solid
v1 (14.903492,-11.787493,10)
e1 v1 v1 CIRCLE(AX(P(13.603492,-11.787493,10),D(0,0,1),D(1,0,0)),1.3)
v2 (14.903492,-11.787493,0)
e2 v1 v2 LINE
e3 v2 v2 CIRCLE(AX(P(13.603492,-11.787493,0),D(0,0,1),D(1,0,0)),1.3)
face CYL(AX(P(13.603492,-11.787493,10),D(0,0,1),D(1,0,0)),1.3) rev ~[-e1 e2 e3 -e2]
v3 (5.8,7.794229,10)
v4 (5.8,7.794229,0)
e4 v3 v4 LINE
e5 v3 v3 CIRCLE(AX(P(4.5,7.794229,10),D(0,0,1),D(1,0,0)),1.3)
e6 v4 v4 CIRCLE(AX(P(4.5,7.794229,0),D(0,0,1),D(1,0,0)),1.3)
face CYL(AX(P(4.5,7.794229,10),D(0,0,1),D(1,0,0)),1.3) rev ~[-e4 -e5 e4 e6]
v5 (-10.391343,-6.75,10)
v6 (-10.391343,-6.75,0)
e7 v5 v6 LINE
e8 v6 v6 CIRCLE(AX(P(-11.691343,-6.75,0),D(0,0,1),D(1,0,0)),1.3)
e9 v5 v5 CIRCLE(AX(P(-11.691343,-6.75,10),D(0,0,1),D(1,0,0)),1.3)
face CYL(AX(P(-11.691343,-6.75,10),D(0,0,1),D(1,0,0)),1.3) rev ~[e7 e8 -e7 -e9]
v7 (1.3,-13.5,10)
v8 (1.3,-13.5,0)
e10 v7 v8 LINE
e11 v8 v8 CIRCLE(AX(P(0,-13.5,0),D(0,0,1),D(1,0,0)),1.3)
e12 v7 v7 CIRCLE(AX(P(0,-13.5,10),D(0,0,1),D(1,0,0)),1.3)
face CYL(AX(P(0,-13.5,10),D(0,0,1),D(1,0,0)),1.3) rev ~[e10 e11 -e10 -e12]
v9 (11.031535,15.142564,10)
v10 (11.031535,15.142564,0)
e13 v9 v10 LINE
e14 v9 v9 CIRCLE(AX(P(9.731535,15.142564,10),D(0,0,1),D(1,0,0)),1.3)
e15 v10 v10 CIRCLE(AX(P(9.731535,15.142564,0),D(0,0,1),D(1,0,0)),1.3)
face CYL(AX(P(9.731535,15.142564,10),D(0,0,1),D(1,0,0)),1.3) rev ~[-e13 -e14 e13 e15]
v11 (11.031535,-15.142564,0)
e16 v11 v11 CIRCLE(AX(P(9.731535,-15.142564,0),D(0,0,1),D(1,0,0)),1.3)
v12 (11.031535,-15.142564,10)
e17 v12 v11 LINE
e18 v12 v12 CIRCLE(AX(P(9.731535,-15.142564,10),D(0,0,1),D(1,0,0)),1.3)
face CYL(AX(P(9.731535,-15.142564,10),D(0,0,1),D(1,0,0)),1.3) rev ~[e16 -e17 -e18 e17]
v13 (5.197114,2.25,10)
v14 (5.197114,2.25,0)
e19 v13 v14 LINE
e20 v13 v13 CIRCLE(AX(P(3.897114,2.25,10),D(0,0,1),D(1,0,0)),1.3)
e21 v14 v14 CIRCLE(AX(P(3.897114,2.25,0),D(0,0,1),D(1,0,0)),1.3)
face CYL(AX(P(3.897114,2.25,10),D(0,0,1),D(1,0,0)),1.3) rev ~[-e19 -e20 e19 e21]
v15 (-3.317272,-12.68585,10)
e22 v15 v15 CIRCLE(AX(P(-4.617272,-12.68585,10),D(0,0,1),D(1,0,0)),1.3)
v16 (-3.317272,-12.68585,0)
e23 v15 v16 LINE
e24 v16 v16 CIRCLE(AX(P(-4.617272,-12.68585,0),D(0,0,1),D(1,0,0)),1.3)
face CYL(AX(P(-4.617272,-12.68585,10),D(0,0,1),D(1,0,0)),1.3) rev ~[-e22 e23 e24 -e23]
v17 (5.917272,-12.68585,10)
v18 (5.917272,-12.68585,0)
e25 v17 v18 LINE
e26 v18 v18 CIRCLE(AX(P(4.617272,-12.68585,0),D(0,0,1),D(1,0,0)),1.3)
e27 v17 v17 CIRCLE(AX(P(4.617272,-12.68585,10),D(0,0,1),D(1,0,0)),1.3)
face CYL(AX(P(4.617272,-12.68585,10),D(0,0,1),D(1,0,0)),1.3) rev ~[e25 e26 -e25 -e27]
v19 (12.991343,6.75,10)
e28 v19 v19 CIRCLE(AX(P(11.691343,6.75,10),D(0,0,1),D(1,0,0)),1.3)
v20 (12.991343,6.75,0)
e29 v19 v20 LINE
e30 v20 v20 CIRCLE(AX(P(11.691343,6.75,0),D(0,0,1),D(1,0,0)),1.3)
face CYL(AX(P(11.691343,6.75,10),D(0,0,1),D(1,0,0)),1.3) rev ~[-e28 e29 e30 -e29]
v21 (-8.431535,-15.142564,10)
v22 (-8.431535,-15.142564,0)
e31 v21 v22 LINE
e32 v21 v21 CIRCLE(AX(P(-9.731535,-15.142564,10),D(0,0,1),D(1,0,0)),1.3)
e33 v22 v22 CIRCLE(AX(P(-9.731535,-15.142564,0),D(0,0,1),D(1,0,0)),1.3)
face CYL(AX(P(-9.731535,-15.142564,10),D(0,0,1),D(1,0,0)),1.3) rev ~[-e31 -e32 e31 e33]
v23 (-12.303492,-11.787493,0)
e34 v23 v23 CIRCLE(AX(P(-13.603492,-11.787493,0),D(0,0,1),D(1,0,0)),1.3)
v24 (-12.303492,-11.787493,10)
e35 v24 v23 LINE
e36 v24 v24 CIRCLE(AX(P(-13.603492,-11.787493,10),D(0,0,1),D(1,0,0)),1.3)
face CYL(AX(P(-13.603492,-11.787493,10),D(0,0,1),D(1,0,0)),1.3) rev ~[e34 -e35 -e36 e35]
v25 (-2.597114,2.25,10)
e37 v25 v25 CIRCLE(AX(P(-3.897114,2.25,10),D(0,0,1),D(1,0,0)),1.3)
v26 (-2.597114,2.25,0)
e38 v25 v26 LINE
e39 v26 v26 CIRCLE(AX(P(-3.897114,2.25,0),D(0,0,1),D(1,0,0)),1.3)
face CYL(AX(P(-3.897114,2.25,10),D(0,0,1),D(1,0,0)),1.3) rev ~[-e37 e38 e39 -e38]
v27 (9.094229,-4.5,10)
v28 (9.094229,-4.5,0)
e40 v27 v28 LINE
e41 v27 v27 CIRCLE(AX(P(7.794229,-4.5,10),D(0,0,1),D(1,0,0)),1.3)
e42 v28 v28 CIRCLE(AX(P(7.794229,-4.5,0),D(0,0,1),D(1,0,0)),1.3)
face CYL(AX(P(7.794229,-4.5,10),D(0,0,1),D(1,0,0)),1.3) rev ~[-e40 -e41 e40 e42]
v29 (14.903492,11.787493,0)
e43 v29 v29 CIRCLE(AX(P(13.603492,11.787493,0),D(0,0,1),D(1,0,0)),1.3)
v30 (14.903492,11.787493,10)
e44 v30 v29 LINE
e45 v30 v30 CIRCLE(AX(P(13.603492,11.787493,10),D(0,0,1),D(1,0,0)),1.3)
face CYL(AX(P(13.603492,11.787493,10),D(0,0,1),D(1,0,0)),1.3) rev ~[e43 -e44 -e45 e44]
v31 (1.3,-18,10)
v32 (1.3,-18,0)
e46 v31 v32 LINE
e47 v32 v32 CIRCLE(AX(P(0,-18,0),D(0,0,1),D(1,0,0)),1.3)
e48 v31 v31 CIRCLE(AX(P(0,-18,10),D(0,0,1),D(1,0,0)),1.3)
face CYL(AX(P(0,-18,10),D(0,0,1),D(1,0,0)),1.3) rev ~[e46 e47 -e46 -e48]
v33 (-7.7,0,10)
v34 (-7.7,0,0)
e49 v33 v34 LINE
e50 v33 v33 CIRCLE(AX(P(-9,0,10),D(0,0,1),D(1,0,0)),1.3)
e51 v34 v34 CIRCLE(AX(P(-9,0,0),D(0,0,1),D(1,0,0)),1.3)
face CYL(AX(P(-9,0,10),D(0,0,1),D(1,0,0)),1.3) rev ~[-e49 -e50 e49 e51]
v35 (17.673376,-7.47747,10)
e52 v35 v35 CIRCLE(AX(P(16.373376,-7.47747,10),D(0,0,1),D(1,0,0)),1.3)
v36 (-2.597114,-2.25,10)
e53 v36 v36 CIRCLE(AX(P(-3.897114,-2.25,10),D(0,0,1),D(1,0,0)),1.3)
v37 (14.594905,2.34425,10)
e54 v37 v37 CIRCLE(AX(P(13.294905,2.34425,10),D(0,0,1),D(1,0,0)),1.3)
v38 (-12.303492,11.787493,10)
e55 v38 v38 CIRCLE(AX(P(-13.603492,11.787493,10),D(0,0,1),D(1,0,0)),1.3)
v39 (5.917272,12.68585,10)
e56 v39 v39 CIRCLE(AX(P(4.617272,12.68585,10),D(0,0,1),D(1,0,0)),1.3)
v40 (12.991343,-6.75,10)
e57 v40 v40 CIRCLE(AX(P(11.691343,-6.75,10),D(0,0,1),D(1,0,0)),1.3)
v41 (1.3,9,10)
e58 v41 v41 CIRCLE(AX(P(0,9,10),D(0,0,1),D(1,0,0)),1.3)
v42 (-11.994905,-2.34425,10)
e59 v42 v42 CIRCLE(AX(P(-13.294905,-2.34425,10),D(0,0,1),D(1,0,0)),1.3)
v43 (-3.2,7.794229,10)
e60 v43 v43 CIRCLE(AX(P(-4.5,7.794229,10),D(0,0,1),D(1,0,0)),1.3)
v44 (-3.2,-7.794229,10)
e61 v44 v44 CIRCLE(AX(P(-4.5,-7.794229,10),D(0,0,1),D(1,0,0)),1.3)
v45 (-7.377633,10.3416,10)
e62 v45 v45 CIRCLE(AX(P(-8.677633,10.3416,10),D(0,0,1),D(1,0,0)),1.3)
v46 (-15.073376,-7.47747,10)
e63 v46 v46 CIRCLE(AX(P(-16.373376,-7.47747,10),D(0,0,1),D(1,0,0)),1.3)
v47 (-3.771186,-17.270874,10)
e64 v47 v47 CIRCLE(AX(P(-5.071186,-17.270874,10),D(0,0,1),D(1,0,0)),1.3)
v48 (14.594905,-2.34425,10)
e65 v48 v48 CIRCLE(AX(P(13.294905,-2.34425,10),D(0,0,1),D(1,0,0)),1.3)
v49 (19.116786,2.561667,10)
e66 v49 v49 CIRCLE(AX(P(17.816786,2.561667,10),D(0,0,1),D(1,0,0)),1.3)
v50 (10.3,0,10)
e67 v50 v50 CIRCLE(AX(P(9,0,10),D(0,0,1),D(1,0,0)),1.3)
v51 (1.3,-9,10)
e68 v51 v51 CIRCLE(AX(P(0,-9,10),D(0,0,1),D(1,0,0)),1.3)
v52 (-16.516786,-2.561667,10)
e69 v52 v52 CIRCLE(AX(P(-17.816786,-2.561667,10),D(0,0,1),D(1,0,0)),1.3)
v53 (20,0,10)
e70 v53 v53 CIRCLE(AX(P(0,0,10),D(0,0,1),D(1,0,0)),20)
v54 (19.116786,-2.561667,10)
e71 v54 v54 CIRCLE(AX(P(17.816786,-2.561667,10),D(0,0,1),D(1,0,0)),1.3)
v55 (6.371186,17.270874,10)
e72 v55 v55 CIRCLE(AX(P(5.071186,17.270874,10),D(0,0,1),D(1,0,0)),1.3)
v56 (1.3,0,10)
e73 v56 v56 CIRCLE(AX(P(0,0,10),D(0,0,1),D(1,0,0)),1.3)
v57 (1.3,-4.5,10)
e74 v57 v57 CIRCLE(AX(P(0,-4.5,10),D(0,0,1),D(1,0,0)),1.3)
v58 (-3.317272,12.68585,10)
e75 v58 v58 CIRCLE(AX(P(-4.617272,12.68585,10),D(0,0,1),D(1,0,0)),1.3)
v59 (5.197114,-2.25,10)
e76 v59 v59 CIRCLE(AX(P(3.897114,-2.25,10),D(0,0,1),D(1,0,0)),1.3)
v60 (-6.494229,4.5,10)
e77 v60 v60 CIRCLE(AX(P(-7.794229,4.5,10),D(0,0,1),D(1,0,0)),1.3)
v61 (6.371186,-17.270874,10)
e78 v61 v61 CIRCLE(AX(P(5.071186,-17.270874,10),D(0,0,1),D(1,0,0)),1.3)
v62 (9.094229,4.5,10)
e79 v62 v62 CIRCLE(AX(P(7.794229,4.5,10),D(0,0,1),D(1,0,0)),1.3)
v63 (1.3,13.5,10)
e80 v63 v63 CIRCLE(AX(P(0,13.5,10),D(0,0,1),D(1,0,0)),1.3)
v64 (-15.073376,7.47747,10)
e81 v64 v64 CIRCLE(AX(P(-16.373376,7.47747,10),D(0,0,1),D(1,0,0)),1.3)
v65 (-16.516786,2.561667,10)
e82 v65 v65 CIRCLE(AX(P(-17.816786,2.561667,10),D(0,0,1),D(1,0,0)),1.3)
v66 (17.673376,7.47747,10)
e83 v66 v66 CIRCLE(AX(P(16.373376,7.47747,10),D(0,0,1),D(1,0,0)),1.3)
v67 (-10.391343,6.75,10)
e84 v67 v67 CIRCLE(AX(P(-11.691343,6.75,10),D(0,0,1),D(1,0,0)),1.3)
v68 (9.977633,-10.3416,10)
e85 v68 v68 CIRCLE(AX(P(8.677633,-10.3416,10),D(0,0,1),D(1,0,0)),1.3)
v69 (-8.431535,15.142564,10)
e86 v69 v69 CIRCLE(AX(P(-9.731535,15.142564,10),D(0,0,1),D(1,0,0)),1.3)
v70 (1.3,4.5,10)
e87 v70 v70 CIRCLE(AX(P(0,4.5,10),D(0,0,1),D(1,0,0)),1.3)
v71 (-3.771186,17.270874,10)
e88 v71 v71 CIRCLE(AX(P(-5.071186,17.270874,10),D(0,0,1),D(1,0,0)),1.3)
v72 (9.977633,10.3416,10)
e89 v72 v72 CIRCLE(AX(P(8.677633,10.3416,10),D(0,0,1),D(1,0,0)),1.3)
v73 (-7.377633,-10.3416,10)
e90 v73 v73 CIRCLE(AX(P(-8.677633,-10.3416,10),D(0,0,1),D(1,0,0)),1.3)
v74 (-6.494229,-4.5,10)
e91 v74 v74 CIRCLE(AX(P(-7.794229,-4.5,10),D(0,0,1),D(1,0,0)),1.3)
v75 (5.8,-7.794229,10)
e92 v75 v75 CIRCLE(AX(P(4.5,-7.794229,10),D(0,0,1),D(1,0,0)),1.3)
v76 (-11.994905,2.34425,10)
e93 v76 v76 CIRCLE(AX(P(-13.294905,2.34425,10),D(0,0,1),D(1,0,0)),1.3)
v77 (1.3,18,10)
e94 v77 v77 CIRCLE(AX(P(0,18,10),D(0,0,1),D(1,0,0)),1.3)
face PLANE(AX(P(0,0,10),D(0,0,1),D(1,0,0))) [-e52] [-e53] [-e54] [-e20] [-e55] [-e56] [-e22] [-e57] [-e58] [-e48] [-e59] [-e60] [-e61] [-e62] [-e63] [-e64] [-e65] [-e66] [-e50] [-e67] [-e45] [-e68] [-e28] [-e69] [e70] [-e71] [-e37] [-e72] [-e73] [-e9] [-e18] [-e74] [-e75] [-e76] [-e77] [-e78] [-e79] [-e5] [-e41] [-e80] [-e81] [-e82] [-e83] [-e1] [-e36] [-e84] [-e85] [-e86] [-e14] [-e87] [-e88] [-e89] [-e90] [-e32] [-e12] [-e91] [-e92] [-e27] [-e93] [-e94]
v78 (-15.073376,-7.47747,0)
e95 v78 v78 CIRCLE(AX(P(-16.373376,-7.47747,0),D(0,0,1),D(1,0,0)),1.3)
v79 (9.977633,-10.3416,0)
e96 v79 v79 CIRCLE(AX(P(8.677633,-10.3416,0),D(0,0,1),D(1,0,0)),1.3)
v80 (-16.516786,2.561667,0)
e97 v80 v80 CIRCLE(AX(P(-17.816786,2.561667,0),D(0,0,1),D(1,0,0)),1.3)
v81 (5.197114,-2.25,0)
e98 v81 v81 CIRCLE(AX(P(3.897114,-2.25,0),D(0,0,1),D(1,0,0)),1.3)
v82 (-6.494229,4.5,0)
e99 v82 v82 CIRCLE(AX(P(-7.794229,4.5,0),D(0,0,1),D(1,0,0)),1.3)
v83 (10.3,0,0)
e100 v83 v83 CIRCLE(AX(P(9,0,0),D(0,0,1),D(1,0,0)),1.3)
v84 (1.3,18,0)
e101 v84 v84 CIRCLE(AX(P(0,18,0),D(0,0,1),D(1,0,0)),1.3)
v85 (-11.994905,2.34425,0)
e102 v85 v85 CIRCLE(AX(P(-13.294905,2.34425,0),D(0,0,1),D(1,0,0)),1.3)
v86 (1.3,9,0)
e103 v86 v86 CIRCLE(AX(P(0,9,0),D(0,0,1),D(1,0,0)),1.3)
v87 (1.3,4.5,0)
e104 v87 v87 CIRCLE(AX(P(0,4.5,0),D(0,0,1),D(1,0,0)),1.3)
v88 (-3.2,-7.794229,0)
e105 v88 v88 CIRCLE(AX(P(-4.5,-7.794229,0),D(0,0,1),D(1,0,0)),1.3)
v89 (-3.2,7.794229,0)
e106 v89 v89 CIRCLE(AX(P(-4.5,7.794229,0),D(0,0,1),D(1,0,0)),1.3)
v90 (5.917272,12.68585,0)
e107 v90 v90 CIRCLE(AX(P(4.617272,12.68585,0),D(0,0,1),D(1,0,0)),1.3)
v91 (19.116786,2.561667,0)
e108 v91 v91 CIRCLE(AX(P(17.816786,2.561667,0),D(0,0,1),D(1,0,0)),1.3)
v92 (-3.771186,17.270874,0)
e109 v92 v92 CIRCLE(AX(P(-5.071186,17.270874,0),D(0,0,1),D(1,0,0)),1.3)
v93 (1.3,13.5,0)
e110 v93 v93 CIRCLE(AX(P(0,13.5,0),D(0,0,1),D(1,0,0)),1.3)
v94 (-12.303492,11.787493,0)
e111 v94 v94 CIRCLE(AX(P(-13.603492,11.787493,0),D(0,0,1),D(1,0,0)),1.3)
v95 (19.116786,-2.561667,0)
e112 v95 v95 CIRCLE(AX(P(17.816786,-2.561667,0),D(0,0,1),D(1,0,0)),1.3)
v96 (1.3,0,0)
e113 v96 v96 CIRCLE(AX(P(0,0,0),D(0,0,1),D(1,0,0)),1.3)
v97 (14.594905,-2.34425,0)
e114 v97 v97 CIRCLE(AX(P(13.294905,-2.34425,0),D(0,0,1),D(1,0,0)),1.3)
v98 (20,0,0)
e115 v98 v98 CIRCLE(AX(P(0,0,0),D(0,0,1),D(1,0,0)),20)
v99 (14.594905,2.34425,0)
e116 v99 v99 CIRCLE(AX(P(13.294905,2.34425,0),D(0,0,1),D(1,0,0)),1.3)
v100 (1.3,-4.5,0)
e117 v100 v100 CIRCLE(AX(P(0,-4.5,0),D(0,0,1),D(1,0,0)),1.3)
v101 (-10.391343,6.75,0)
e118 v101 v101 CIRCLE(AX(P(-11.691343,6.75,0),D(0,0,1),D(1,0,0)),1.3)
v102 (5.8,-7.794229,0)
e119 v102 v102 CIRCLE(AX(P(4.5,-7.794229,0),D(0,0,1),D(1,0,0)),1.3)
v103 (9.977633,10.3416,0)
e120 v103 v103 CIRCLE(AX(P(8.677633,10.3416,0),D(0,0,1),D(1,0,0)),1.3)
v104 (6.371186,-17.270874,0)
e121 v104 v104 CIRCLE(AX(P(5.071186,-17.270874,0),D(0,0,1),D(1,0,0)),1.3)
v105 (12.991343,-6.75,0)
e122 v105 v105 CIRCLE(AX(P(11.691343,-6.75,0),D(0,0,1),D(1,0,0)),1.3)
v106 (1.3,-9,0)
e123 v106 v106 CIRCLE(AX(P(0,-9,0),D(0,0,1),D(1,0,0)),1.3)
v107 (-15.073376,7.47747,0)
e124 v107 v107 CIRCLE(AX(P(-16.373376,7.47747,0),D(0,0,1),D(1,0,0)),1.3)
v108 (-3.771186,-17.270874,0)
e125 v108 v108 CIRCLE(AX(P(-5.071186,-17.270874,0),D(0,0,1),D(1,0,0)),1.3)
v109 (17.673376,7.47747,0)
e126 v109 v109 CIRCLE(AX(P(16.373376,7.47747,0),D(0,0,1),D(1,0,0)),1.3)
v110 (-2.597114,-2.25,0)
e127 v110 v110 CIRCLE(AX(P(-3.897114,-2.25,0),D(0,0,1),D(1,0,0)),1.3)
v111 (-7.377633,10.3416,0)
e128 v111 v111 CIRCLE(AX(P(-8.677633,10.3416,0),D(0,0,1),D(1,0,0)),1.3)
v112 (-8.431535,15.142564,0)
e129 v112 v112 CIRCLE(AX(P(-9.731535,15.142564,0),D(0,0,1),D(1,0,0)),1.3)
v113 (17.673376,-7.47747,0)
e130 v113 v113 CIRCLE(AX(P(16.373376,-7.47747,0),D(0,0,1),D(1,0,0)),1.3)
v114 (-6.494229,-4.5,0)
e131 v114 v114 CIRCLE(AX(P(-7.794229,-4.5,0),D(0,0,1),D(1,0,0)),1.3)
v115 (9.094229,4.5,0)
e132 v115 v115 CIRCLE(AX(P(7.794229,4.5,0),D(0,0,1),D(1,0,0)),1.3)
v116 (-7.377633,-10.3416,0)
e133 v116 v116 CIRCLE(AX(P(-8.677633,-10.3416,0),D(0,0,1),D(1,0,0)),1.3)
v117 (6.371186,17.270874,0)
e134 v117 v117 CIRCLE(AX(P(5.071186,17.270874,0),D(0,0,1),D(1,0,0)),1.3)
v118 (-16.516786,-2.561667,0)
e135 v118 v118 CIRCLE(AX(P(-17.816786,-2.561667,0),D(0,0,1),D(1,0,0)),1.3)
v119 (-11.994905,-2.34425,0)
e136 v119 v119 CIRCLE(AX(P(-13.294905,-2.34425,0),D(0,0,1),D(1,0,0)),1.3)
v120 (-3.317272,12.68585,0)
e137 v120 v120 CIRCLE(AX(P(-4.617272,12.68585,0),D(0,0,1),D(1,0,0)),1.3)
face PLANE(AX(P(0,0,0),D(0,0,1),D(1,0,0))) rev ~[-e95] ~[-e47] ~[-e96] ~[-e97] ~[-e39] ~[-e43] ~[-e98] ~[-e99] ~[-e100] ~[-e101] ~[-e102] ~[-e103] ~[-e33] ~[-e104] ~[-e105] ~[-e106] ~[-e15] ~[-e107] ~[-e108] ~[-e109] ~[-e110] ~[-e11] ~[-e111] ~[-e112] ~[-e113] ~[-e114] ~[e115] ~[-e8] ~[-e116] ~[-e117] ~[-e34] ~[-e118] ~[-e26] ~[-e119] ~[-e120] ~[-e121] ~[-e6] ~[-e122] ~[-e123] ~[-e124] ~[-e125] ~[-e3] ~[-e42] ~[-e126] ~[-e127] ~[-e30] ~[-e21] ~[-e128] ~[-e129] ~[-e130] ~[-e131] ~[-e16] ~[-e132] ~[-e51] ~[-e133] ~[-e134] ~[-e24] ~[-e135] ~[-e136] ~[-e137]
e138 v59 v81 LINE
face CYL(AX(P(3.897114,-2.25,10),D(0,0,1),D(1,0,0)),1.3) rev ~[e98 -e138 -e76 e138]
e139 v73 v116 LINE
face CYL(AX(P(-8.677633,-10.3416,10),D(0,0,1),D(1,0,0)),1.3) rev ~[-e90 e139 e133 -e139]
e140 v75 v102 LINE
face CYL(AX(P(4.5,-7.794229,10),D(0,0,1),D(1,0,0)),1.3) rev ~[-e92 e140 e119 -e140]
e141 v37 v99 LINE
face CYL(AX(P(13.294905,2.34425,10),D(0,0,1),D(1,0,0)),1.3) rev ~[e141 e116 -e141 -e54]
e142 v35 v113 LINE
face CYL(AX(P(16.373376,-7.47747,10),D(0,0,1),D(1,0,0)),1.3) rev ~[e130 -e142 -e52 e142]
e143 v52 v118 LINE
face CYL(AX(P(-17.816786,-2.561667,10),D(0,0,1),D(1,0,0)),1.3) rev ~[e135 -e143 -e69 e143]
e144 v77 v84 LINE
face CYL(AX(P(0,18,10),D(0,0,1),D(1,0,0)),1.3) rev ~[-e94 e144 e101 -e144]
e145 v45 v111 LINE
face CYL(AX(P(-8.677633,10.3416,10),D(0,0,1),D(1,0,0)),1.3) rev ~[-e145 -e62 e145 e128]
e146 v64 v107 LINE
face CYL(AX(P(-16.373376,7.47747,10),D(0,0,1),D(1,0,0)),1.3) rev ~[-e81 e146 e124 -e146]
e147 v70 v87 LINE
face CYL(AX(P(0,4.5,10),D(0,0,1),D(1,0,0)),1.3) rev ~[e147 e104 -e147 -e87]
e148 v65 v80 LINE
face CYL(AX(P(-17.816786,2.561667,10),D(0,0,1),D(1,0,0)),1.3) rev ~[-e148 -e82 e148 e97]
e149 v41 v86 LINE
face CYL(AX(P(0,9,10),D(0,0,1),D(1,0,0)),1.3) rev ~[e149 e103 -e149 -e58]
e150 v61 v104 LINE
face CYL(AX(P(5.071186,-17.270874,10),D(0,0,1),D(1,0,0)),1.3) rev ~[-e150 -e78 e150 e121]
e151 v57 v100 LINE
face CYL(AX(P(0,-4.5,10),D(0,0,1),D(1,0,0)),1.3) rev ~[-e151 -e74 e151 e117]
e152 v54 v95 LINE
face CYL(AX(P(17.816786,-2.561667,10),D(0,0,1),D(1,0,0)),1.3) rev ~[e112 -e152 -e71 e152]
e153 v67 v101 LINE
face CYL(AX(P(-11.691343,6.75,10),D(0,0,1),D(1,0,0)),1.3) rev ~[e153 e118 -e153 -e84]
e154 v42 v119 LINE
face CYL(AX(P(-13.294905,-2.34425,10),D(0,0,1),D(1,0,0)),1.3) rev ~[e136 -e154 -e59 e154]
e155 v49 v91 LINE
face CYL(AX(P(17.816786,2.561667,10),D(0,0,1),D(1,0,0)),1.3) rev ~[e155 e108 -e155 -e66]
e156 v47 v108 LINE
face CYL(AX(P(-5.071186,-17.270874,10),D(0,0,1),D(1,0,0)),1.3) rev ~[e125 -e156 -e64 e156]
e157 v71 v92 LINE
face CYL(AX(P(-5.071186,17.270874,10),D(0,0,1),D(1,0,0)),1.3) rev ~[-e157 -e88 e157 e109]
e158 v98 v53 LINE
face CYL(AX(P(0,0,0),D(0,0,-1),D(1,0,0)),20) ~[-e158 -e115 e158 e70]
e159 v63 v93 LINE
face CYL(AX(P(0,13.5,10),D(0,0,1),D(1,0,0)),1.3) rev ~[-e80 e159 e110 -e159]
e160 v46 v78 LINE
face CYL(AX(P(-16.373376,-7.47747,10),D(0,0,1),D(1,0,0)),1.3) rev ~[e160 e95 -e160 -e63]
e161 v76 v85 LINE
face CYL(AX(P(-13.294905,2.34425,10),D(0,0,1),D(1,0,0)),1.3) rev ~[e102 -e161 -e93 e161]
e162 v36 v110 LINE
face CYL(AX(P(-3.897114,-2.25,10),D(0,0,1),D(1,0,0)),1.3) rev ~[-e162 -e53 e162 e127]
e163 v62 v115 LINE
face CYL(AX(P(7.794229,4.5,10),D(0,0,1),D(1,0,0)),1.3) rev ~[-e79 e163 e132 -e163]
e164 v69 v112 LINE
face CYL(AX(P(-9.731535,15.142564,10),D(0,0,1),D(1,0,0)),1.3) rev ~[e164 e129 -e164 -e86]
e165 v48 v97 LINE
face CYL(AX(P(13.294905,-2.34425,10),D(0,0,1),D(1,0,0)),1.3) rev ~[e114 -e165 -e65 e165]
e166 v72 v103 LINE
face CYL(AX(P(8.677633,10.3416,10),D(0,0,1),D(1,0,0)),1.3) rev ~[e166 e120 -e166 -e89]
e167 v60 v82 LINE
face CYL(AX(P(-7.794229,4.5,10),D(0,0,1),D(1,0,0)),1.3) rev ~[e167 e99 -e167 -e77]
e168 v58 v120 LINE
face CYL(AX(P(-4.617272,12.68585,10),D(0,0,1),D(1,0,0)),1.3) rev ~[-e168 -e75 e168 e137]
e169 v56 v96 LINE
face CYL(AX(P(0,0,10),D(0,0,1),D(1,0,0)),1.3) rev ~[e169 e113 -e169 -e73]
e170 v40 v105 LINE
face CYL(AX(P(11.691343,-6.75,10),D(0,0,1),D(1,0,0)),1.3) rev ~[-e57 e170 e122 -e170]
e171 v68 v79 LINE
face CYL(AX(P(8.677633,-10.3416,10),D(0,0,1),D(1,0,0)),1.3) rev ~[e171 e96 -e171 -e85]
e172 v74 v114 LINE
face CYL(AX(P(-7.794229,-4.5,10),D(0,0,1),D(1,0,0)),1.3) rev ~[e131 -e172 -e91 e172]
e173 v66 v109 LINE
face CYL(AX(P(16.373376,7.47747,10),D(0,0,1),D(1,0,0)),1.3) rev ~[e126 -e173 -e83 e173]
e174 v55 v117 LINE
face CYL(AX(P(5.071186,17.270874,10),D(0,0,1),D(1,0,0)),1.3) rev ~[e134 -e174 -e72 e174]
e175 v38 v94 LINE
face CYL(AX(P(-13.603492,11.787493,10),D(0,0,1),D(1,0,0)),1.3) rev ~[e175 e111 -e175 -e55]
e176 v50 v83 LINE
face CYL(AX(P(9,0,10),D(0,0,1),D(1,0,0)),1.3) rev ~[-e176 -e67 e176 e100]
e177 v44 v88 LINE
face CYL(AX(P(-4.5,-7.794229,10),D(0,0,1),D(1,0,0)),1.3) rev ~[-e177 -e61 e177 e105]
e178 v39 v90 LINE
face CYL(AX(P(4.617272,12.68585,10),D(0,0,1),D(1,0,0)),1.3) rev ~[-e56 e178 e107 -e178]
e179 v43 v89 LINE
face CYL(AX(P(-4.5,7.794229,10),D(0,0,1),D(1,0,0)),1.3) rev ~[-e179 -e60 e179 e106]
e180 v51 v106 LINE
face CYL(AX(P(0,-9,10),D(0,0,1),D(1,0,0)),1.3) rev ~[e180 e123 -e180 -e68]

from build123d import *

# Parameters (mm, degrees)
ESQUISSE1_R             = 20
BOSS_EXTRU_1_DEPTH      = 10
ESQUISSE2_R             = 1.3
ENL_V_MAT_EXTRU_1_DEPTH = 10


with BuildPart() as part:
    # Esquisse1 → Boss.-Extru.1 (new body)
    with BuildSketch(Plane.XY):
        Circle(ESQUISSE1_R)
    extrude(amount=BOSS_EXTRU_1_DEPTH)

    # Esquisse2 → Enlèv. mat.-Extru.1 (cut)
    with BuildSketch(Plane.XY.offset(10)):
        with Locations((0, 4.5)):
            Circle(ESQUISSE2_R)
        with Locations((-3.897114317, 2.25)):
            Circle(ESQUISSE2_R)
        with Locations((-3.897114317, -2.25)):
            Circle(ESQUISSE2_R)
        with Locations((0, -4.5)):
            Circle(ESQUISSE2_R)
        with Locations((3.897114317, -2.25)):
            Circle(ESQUISSE2_R)
        with Locations((3.897114317, 2.25)):
            Circle(ESQUISSE2_R)
        Circle(ESQUISSE2_R)
        with Locations((0, 9)):
            Circle(ESQUISSE2_R)
        with Locations((4.5, 7.794228634)):
            Circle(ESQUISSE2_R)
        with Locations((7.794228634, 4.5)):
            Circle(ESQUISSE2_R)
        with Locations((9, 0)):
            Circle(ESQUISSE2_R)
        with Locations((7.794228634, -4.5)):
            Circle(ESQUISSE2_R)
        with Locations((4.5, -7.794228634)):
            Circle(ESQUISSE2_R)
        with Locations((0, -9)):
            Circle(ESQUISSE2_R)
        with Locations((-4.5, -7.794228634)):
            Circle(ESQUISSE2_R)
        with Locations((-7.794228634, -4.5)):
            Circle(ESQUISSE2_R)
        with Locations((-9, 0)):
            Circle(ESQUISSE2_R)
        with Locations((-7.794228634, 4.5)):
            Circle(ESQUISSE2_R)
        with Locations((-4.5, 7.794228634)):
            Circle(ESQUISSE2_R)
        with Locations((0, 13.5)):
            Circle(ESQUISSE2_R)
        with Locations((0, 18)):
            Circle(ESQUISSE2_R)
        with Locations((4.617271935, 12.685850381)):
            Circle(ESQUISSE2_R)
        with Locations((8.677632731, 10.341599982)):
            Circle(ESQUISSE2_R)
        with Locations((11.691342951, 6.75)):
            Circle(ESQUISSE2_R)
        with Locations((13.294904666, 2.344250399)):
            Circle(ESQUISSE2_R)
        with Locations((13.294904666, -2.344250399)):
            Circle(ESQUISSE2_R)
        with Locations((11.691342951, -6.75)):
            Circle(ESQUISSE2_R)
        with Locations((8.677632731, -10.341599982)):
            Circle(ESQUISSE2_R)
        with Locations((4.617271935, -12.685850381)):
            Circle(ESQUISSE2_R)
        with Locations((0, -13.5)):
            Circle(ESQUISSE2_R)
        with Locations((-4.617271935, -12.685850381)):
            Circle(ESQUISSE2_R)
        with Locations((-8.677632731, -10.341599982)):
            Circle(ESQUISSE2_R)
        with Locations((-11.691342951, -6.75)):
            Circle(ESQUISSE2_R)
        with Locations((-13.294904666, -2.344250399)):
            Circle(ESQUISSE2_R)
        with Locations((-13.294904666, 2.344250399)):
            Circle(ESQUISSE2_R)
        with Locations((-11.691342951, 6.75)):
            Circle(ESQUISSE2_R)
        with Locations((-8.677632731, 10.341599982)):
            Circle(ESQUISSE2_R)
        with Locations((-4.617271935, 12.685850381)):
            Circle(ESQUISSE2_R)
        with Locations((5.071186023, 17.270873525)):
            Circle(ESQUISSE2_R)
        with Locations((9.731534714, 15.142563591)):
            Circle(ESQUISSE2_R)
        with Locations((13.603492338, 11.787493211)):
            Circle(ESQUISSE2_R)
        with Locations((16.373375916, 7.477470234)):
            Circle(ESQUISSE2_R)
        with Locations((17.816785954, 2.561667089)):
            Circle(ESQUISSE2_R)
        with Locations((17.816785954, -2.561667089)):
            Circle(ESQUISSE2_R)
        with Locations((16.373375916, -7.477470234)):
            Circle(ESQUISSE2_R)
        with Locations((13.603492338, -11.787493211)):
            Circle(ESQUISSE2_R)
        with Locations((9.731534714, -15.142563591)):
            Circle(ESQUISSE2_R)
        with Locations((5.071186023, -17.270873525)):
            Circle(ESQUISSE2_R)
        with Locations((0, -18)):
            Circle(ESQUISSE2_R)
        with Locations((-5.071186023, -17.270873525)):
            Circle(ESQUISSE2_R)
        with Locations((-9.731534714, -15.142563591)):
            Circle(ESQUISSE2_R)
        with Locations((-13.603492338, -11.787493211)):
            Circle(ESQUISSE2_R)
        with Locations((-16.373375916, -7.477470234)):
            Circle(ESQUISSE2_R)
        with Locations((-17.816785954, -2.561667089)):
            Circle(ESQUISSE2_R)
        with Locations((-17.816785954, 2.561667089)):
            Circle(ESQUISSE2_R)
        with Locations((-16.373375916, 7.477470234)):
            Circle(ESQUISSE2_R)
        with Locations((-13.603492338, 11.787493211)):
            Circle(ESQUISSE2_R)
        with Locations((-9.731534714, 15.142563591)):
            Circle(ESQUISSE2_R)
        with Locations((-5.071186023, 17.270873525)):
            Circle(ESQUISSE2_R)
    extrude(amount=-ENL_V_MAT_EXTRU_1_DEPTH, mode=Mode.SUBTRACT)


solid = part.part
